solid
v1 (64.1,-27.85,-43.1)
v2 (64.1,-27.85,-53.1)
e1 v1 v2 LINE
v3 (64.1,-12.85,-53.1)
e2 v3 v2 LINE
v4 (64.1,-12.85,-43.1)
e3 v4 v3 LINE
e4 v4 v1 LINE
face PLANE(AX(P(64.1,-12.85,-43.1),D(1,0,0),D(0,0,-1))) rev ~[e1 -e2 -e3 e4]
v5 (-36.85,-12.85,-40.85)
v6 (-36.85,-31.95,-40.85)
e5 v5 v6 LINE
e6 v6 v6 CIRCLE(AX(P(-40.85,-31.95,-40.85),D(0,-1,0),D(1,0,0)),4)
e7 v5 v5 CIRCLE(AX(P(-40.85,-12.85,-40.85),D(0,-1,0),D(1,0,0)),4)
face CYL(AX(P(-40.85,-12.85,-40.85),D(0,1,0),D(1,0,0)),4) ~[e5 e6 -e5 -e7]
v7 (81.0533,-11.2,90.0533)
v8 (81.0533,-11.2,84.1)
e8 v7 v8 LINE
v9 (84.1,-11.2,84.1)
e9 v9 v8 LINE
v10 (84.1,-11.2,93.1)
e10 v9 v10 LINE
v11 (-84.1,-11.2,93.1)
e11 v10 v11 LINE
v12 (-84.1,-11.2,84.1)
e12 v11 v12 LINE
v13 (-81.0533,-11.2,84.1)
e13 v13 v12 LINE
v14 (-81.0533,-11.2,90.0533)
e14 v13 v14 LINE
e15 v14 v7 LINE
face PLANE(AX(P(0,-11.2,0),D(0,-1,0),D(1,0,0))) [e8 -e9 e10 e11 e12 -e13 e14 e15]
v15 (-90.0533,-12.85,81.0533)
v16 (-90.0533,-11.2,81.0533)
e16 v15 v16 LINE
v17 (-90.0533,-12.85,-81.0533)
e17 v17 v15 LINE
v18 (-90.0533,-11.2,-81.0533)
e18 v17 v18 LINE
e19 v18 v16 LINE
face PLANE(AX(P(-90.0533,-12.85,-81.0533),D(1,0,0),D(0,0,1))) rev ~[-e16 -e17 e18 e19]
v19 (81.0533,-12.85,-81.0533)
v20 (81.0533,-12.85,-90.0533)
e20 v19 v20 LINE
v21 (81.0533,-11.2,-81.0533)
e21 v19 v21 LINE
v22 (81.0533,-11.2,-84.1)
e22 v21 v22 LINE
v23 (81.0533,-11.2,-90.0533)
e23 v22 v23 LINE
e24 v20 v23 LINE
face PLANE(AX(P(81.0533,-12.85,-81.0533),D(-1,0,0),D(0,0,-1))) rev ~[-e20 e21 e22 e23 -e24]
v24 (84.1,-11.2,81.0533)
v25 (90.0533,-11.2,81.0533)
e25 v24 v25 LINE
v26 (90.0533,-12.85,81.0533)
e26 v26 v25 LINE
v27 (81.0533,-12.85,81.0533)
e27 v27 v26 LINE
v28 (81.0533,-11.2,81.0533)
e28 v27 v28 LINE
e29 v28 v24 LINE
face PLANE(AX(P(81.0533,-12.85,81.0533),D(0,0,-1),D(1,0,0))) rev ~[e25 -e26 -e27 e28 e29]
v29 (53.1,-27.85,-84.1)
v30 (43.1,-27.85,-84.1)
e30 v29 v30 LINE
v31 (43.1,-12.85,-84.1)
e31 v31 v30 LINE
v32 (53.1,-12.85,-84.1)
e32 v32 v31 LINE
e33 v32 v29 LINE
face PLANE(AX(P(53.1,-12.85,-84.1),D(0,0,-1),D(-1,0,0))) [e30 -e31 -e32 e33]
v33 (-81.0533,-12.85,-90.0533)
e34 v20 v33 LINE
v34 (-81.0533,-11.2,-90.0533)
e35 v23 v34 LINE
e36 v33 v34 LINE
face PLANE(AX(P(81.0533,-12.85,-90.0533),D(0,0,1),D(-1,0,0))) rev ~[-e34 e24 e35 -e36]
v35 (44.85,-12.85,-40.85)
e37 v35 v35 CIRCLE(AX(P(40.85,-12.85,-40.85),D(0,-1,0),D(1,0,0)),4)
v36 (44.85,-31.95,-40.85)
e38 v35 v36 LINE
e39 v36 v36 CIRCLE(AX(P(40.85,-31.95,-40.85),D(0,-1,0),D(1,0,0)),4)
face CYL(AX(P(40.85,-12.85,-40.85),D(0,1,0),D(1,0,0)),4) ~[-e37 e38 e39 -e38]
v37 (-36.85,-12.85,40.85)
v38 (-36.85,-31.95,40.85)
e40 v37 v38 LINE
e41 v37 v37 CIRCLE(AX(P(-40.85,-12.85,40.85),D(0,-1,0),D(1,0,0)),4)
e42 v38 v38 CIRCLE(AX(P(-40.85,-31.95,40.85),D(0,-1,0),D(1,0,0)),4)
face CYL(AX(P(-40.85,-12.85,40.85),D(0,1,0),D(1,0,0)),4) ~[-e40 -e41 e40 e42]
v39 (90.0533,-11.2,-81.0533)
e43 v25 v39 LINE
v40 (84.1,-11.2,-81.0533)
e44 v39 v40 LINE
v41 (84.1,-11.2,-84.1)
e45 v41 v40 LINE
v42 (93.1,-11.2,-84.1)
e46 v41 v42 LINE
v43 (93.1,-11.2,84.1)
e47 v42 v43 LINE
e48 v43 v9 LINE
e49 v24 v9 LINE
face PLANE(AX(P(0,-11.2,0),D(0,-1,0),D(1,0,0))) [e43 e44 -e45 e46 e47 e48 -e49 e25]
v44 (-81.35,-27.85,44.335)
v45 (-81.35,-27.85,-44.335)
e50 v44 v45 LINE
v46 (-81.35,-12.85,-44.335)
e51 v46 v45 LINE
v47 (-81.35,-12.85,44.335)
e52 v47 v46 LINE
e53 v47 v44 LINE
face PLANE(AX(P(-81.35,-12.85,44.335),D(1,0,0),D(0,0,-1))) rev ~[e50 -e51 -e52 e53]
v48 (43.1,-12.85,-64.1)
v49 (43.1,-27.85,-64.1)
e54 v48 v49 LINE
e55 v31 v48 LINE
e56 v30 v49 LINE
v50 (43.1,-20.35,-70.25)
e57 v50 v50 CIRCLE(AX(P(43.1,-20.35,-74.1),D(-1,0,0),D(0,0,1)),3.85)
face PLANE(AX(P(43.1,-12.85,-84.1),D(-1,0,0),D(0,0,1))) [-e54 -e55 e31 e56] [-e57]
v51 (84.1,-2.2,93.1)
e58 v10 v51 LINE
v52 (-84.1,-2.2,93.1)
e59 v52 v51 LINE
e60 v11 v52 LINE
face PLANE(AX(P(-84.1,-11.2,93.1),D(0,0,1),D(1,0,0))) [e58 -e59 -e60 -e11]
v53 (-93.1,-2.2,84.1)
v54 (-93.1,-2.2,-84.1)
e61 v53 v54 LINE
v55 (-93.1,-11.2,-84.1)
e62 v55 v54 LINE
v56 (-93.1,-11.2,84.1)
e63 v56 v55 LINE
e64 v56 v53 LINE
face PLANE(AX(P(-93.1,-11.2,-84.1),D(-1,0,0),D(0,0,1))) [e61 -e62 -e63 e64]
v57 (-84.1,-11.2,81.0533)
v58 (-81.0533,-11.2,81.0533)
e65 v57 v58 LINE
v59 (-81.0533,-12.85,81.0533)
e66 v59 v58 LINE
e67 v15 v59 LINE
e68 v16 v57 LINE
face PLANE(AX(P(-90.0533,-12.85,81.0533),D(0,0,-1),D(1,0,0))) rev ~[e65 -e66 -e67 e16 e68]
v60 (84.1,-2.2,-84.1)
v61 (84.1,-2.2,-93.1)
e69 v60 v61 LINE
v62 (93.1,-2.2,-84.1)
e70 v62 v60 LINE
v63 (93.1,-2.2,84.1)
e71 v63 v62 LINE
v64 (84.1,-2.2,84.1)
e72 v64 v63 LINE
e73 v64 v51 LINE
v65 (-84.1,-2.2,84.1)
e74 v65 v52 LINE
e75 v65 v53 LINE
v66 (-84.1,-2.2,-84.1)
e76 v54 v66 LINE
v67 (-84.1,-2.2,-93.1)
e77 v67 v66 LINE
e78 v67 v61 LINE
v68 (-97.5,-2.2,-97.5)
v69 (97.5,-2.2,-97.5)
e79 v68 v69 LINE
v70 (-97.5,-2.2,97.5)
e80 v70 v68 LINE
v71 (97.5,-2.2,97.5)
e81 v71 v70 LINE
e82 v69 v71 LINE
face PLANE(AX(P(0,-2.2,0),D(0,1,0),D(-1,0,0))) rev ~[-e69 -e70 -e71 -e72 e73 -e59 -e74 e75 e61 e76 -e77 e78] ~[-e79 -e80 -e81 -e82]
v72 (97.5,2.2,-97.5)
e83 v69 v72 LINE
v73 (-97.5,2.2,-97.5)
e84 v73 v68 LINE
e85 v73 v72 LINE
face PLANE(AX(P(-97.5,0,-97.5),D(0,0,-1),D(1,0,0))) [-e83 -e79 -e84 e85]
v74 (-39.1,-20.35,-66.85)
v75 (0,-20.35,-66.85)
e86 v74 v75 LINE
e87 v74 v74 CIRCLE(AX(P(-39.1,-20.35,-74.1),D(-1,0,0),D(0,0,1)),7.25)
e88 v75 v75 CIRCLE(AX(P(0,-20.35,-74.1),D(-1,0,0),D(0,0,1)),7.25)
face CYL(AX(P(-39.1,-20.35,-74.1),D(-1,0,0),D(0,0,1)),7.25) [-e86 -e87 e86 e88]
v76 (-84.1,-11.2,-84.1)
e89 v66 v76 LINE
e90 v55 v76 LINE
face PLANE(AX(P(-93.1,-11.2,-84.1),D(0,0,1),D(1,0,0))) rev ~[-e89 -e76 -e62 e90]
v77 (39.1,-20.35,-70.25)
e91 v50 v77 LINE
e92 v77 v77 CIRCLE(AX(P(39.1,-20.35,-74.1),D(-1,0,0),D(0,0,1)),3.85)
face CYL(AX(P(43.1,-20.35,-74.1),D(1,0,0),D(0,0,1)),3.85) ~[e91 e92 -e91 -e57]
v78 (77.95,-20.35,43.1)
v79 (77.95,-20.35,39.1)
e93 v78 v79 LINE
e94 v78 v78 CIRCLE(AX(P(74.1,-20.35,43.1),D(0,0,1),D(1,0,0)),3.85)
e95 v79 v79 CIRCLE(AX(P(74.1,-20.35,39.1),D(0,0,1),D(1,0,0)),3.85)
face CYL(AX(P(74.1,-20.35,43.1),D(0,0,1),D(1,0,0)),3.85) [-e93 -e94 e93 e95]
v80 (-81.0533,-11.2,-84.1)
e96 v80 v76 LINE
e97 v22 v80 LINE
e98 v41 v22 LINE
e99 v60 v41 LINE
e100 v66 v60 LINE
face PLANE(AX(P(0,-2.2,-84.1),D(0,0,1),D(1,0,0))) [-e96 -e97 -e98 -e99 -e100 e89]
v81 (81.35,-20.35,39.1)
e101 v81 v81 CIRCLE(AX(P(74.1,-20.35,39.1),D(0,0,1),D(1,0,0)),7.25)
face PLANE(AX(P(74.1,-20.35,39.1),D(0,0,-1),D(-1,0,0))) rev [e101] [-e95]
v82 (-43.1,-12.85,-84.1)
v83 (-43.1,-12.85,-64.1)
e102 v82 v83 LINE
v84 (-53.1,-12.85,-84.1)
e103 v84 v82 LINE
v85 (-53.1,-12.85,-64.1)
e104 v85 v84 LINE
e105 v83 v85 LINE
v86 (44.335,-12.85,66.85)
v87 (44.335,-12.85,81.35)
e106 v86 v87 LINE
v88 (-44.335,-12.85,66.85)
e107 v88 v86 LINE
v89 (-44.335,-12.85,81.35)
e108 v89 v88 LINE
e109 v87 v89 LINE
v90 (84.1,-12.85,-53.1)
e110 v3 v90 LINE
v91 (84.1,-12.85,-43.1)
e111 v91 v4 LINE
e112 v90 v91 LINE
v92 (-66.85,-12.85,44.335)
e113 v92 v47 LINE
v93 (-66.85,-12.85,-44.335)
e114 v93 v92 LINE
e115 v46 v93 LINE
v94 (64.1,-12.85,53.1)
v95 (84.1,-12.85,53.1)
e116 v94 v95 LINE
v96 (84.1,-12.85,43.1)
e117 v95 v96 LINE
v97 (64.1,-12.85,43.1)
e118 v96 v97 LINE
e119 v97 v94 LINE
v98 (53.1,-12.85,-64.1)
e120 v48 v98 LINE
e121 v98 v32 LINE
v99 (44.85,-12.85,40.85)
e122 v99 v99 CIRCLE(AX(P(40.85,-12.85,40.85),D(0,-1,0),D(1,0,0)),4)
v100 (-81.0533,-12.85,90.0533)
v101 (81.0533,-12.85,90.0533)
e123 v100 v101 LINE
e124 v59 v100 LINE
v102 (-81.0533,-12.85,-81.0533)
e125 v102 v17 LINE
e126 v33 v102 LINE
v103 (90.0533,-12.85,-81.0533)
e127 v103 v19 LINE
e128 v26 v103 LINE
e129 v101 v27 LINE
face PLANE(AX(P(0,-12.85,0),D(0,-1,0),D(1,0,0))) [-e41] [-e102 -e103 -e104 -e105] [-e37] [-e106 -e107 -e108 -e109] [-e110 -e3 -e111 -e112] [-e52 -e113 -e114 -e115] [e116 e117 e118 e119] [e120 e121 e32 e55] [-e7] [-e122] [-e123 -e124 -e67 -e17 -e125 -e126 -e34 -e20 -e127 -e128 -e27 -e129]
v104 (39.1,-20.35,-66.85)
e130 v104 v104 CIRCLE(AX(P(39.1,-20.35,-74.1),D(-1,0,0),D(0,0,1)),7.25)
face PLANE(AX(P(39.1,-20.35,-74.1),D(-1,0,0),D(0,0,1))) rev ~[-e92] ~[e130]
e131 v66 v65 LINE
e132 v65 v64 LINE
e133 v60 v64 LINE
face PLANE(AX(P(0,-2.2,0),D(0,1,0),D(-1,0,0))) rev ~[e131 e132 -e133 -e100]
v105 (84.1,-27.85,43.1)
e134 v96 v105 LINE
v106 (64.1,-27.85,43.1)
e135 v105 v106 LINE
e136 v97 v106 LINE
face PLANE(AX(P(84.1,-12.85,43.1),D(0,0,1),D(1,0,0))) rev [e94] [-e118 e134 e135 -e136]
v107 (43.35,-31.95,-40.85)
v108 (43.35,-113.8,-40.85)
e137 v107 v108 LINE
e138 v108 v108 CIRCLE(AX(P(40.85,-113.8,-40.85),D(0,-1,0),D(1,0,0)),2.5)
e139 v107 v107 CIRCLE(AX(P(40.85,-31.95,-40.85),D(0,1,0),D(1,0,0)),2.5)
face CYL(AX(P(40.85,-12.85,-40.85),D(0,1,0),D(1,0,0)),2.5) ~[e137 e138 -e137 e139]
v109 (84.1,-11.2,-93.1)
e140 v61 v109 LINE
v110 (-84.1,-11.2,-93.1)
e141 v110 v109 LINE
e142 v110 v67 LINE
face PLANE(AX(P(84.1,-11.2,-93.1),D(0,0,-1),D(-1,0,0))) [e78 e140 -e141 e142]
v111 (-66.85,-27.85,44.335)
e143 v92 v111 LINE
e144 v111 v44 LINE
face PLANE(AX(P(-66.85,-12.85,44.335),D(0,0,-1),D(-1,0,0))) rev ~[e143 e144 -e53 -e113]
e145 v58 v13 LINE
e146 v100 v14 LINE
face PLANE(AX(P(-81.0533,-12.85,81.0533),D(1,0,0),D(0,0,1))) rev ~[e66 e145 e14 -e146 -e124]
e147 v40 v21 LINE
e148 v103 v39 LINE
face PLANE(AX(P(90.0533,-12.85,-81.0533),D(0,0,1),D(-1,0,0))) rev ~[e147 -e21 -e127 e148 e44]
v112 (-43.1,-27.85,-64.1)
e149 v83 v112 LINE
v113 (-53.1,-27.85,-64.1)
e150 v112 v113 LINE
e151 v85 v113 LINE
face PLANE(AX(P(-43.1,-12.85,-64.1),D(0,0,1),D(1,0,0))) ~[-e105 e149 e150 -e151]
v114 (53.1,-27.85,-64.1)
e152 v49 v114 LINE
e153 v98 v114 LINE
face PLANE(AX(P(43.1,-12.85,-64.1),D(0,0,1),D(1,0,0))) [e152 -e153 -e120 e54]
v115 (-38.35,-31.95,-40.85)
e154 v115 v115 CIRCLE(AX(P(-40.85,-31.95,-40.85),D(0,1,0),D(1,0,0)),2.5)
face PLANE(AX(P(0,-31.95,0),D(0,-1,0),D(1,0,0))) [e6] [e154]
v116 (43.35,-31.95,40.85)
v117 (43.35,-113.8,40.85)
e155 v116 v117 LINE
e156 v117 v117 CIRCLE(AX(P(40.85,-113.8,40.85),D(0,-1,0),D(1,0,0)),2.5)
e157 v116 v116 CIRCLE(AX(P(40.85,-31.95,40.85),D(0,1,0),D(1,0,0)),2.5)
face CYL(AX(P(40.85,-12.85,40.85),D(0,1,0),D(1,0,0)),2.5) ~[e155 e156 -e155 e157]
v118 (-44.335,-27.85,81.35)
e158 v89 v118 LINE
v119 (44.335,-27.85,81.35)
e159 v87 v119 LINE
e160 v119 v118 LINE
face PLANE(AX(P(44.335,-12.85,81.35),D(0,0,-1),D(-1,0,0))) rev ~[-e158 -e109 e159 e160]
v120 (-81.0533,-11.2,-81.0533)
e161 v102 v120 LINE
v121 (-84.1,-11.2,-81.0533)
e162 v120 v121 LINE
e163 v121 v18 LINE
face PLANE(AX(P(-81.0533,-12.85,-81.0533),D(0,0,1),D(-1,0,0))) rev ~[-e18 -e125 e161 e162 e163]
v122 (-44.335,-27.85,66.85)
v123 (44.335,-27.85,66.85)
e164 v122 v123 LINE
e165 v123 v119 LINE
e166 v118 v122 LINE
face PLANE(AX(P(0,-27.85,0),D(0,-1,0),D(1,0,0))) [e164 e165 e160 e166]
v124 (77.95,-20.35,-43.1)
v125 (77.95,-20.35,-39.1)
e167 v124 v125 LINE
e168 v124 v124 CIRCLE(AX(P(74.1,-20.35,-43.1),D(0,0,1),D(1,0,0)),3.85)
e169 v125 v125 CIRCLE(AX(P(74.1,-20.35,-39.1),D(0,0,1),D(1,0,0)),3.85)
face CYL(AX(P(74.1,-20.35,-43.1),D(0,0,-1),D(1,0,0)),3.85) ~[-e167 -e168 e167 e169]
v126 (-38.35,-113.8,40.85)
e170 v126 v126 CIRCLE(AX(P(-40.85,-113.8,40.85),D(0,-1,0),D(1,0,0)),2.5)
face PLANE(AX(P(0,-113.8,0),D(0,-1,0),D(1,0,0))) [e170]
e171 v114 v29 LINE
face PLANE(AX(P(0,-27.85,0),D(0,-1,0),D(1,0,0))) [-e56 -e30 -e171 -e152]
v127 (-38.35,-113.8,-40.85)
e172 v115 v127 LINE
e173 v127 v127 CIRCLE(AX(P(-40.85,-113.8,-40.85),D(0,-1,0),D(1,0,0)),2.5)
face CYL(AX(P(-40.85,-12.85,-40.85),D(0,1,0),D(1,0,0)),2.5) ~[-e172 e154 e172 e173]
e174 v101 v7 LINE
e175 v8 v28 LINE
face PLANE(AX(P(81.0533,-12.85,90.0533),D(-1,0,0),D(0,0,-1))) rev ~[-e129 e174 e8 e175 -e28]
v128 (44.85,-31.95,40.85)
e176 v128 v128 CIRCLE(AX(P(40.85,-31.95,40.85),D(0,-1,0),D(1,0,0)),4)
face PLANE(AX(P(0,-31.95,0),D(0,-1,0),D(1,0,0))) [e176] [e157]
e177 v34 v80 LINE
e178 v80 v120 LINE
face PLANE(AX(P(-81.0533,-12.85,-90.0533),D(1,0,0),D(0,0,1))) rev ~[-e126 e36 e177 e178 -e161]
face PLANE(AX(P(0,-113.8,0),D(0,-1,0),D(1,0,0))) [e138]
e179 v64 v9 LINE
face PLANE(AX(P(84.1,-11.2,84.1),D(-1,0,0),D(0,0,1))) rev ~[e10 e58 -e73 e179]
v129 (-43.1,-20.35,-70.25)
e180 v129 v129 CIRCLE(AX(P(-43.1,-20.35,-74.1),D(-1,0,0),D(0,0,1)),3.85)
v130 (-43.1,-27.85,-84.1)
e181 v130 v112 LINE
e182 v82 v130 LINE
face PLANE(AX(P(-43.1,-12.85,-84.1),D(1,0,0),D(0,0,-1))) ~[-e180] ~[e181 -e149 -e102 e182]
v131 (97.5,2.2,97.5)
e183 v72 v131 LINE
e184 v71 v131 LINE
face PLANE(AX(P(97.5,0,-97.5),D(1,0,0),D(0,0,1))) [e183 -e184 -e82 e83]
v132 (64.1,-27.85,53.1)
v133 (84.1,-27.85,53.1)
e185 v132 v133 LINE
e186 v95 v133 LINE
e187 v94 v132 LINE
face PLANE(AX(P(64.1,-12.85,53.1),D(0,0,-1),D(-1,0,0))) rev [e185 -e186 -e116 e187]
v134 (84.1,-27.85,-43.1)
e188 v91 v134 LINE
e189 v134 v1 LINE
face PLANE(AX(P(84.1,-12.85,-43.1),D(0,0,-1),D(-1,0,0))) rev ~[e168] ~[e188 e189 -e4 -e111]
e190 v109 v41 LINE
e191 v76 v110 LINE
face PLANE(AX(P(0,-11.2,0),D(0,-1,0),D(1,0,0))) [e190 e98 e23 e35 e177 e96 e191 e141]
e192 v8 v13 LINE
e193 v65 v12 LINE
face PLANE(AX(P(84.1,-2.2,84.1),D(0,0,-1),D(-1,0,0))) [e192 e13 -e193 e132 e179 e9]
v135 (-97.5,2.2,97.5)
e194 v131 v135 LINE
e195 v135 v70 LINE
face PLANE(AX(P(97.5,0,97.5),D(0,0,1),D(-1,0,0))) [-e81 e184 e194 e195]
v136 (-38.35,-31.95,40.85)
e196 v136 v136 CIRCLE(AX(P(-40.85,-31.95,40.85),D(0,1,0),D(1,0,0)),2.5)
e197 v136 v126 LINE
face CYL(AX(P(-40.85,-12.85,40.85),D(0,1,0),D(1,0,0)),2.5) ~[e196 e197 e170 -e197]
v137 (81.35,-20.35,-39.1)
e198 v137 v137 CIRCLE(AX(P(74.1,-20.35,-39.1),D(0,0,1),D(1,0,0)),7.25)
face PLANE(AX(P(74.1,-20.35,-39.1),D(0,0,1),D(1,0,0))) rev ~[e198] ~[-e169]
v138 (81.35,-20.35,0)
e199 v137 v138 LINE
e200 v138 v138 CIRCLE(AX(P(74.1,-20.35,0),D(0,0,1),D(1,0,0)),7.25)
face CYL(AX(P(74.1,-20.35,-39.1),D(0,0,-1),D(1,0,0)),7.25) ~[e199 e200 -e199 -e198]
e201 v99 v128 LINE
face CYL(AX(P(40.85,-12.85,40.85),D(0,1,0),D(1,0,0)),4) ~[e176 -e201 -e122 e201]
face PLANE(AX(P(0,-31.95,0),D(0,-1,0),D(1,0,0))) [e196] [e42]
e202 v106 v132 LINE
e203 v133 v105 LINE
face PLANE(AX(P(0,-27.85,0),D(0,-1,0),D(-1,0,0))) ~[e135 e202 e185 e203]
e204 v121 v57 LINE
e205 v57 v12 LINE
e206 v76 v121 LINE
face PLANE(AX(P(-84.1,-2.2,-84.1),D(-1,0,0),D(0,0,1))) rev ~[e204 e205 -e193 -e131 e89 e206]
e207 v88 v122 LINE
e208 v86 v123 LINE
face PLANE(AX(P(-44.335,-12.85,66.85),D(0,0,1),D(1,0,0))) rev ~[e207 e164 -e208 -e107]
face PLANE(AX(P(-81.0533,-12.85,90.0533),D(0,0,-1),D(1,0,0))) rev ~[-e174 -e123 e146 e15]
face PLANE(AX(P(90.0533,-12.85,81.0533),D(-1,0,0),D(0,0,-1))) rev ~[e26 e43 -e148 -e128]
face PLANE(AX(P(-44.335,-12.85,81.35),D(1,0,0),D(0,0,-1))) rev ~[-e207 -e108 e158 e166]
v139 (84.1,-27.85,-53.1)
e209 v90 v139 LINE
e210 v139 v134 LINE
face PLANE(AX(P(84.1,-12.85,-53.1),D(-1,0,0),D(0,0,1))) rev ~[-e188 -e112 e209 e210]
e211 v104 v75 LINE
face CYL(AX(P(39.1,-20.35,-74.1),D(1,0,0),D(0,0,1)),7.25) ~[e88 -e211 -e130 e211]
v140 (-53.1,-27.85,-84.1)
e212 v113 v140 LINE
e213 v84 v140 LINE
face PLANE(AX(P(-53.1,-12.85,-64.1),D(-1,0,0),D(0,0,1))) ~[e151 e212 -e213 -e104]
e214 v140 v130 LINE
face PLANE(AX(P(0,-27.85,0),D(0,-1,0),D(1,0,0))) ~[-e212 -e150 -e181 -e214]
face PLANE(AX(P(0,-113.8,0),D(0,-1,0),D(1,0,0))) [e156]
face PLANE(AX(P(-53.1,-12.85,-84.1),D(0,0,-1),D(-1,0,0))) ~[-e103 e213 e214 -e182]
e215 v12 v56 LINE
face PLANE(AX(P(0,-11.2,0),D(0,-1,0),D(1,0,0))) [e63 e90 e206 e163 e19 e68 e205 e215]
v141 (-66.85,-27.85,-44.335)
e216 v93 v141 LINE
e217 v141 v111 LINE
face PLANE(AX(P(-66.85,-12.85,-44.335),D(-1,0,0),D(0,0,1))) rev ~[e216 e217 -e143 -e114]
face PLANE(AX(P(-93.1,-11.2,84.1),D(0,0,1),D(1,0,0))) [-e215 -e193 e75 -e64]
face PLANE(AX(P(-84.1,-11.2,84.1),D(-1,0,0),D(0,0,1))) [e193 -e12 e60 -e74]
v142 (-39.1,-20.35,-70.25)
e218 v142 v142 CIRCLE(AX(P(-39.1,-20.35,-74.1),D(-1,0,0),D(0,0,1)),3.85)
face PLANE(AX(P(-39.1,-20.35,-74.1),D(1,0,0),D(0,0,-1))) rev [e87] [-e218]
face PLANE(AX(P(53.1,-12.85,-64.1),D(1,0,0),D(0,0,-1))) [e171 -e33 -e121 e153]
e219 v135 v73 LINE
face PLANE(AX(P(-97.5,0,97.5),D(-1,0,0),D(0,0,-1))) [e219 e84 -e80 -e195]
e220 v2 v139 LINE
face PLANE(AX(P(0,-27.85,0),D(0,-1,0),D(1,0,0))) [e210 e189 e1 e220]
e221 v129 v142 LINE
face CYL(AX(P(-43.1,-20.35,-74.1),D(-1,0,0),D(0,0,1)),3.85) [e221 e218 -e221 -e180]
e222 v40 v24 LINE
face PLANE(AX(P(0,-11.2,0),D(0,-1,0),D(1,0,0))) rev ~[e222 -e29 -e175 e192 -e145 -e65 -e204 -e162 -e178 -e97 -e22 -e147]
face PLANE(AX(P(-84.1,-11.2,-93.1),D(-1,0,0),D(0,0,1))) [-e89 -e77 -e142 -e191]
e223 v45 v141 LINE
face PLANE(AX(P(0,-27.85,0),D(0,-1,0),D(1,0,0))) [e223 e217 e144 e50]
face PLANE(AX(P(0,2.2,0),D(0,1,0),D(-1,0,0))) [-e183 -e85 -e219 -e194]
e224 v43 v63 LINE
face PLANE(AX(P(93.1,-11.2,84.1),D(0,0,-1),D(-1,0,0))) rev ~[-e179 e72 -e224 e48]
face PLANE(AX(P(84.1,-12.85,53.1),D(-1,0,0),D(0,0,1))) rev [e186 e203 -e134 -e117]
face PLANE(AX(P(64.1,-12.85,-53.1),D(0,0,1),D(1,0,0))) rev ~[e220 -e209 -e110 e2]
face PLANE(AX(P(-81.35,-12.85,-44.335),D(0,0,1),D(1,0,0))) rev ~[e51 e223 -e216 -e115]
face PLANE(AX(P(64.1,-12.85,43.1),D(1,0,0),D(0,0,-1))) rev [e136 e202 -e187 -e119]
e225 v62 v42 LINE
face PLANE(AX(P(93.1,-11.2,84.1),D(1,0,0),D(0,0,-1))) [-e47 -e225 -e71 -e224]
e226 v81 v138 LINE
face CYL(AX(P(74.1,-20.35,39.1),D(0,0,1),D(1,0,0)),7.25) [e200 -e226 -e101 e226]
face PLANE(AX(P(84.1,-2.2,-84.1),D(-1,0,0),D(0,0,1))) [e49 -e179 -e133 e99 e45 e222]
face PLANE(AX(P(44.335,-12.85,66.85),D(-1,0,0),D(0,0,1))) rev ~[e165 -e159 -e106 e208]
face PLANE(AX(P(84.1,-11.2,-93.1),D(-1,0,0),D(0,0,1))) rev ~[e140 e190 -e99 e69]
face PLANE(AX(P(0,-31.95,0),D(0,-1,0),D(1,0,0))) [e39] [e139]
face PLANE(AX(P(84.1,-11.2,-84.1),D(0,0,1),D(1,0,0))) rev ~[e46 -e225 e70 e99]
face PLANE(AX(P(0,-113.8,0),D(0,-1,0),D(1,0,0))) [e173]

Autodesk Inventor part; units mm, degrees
ref_plane "YZ Plane" through (0, 0, 0) normal (1, 0, 0) x (0, 1, 0)
ref_plane "XZ Plane" through (0, 0, 0) normal (0, 1, 0) x (-1, 0, 0)
ref_plane "XY Plane" through (0, 0, 0) normal (0, 0, 1) x (1, 0, 0)
sketch "Boceto1" plane through (0, 0, 0) normal (0, 1, 0) x (-1, 0, 0)
  line L0 (-97.5, 97.5) -> (97.5, 97.5)
  line L1 (97.5, 97.5) -> (97.5, -97.5)
  line L2 (97.5, -97.5) -> (-97.5, -97.5)
  line L3 (-97.5, -97.5) -> (-97.5, 97.5)
  line L4 (-97.5, 97.5) -> (97.5, -97.5) construction
  line L5 (97.5, 97.5) -> (-97.5, -97.5) construction
  point P0 (0, 0)
  dimension "d0" = 195
  dimension "d1" = 195
extrude "Extrusión1" add sketch "Boceto1" along normal mid plane 4.4
sketch "Boceto4" plane through (0, -2.2, 0) normal (0, -1, 0) x (1, 0, 0)
  line L0 (97.5, -97.5) -> (97.5, 97.5) construction
  line L1 (-97.5, 97.5) -> (-97.5, -97.5) construction
  line L2 (84.1, -93.1) -> (-84.1, -93.1)
  line L3 (-84.1, -93.1) -> (-84.1, -84.1)
  line L4 (-84.1, -84.1) -> (84.1, -84.1)
  line L5 (84.1, -84.1) -> (84.1, -93.1)
  line L6 (-97.5, -97.5) -> (97.5, -97.5) construction
  line L7 (93.1, -84.1) -> (84.1, -84.1)
  line L8 (84.1, -84.1) -> (84.1, 84.1)
  line L9 (84.1, 84.1) -> (93.1, 84.1)
  line L10 (93.1, 84.1) -> (93.1, -84.1)
  line L11 (0, -126.8945) -> (0, 107.949)
  line L12 (-84.1, -84.1) -> (-84.1, 84.1)
  line L13 (-84.1, 84.1) -> (-93.1, 84.1)
  line L14 (-93.1, 84.1) -> (-93.1, -84.1)
  line L15 (-93.1, -84.1) -> (-84.1, -84.1)
  line L16 (84.1, 84.1) -> (-84.1, 84.1)
  line L17 (84.1, 93.1) -> (-84.1, 93.1)
  line L18 (84.1, 84.1) -> (84.1, 93.1)
  line L19 (-84.1, 84.1) -> (-84.1, 93.1)
  point P0 (0, 0)
  point P1 (-84.1, -88.6)
  point P2 (88.6, -84.1)
  point P3 (84.1, -84.1)
  point P4 (84.1, -84.1)
  point P5 (84.1, -84.1)
  point P6 (84.1, -84.1)
  point P7 (-84.1, 84.1)
  point P8 (-84.1, 84.1)
  point P9 (-84.1, 84.1)
  point P10 (-84.1, 84.1)
  dimension "d20" = 4.4
  dimension "d21" = 9
  dimension "d22" = 13.4
  dimension "d23" = 13.4
  dimension "d24" = 4.4
  dimension "d25" = 9
  dimension "d26" = 13.4
  dimension "d30" = 9
extrude "Extrusión6" add sketch "Boceto4" along normal blind 9 contours L2 L11 L4 L5 | L2 L3 L4 L11 | L8 L9 L10 L7 | L16 L11 L17 L18 | L15 L14 L13 L12 | L16 L19 L17 L11
sketch "Boceto5" plane through (0, -11.2, 0) normal (0, -1, 0) x (1, 0, 0)
  line L0 (-84.1, -93.1) -> (84.1, -93.1) construction
  line L1 (93.1, -84.1) -> (93.1, 84.1) construction
  line L2 (-93.1, 84.1) -> (-93.1, -84.1) construction
  line L3 (84.1, 93.1) -> (-84.1, 93.1) construction
  line L4 (84.1, -93.1) -> (-84.1, -93.1)
  line L5 (-93.1, -84.1) -> (-93.1, 84.1)
  line L6 (-84.1, 93.1) -> (84.1, 93.1)
  line L7 (93.1, 84.1) -> (93.1, -84.1)
  line L8 (84.1, -93.1) -> (84.1, -84.1) projected
  line L9 (84.1, -84.1) -> (-84.1, -84.1) construction
  line L10 (84.1, -93.1) -> (84.1, -84.1)
  line L11 (84.1, -84.1) -> (93.1, -84.1)
  line L12 (93.1, 84.1) -> (84.1, 84.1)
  line L13 (84.1, 84.1) -> (84.1, 93.1)
  line L14 (-93.1, 84.1) -> (-84.1, 84.1)
  line L15 (-84.1, 84.1) -> (-84.1, 93.1)
  line L16 (-93.1, -84.1) -> (-84.1, -84.1) projected
  line L17 (-84.1, -93.1) -> (-84.1, -84.1)
  line L18 (-84.1, -84.1) -> (-93.1, -84.1)
  point P0 (0, 0)
extrude "Extrusión7" add sketch "Boceto5" along normal blind 1.65
sketch "Boceto6" plane through (0, -12.85, 0) normal (0, -1, 0) x (1, 0, 0)
  line L0 (-84.1, -84.1) -> (84.1, -84.1) construction
  line L1 (53.1, -84.1) -> (43.1, -84.1)
  line L2 (43.1, -84.1) -> (43.1, -64.1)
  line L3 (43.1, -64.1) -> (53.1, -64.1)
  line L4 (53.1, -64.1) -> (53.1, -84.1)
  line L5 (93.1, -84.1) -> (93.1, 84.1) projected
  line L6 (84.1, -84.1) -> (84.1, 84.1) projected
  line L7 (64.1, -53.1) -> (84.1, -53.1)
  line L8 (84.1, -53.1) -> (84.1, -43.1)
  line L9 (84.1, -43.1) -> (64.1, -43.1)
  line L10 (64.1, -43.1) -> (64.1, -53.1)
  line L11 (-84.1, -93.1) -> (84.1, -93.1) projected
  point P0 (0, 0)
  dimension "d35" = 40
  dimension "d36" = 10
  dimension "d37" = 20
  dimension "d38" = 40
  dimension "d39" = 10
  dimension "d40" = 20
extrude "Extrusión8" add sketch "Boceto6" along normal blind 15
sketch "Boceto7" plane through (43.1, -12.85, -84.1) normal (-1, 0, 0) x (0, 0, 1)
  line L0 (0, 0) -> (20, 0) projected
  line L1 (0, 0) -> (0, -15) construction
  line L2 (20, -15) -> (0, -15) construction
  line L3 (20, 0) -> (20, -15) construction
  line L4 (0, 0) -> (20, 0) projected
  circle A0 centre (10, -7.5) radius 3.85
  point P0 (84.1, 12.85)
  dimension "d43" = 7.7
extrude "Extrusión9" add sketch "Boceto7" along normal blind 4
sketch "Boceto8" plane through (39.1, -20.35, -74.1) normal (-1, 0, 0) x (0, 0, 1)
  circle A0 centre (0, 0) radius 3.85 projected
  circle A1 centre (0, 0) radius 7.25
  point P0 (74.1, 20.35)
  dimension "d46" = 14.5
extrude "Extrusión10" add sketch "Boceto8" along normal up to surface (39.1 mm away)
sketch "Boceto10" plane through (39.1, -20.35, -74.1) normal (-1, 0, 0) x (0, 0, 1)
  circle A0 centre (0, 0) radius 3.85 projected
  point P0 (74.1, 20.35)
extrude "Extrusión11" add sketch "Boceto10" along normal up to surface (39.1 mm away)
mirror "Simetría4" about plane through (0, 0, 0) normal (1, 0, 0) of "Extrusión9", "Extrusión10", "Extrusión11", "Extrusión8"
sketch "Boceto11" plane through (-84.1, -27.85, -53.1) normal (0, -1, 0) x (1, 0, 0)
  line L0 (20, 0) -> (0, 0) projected
  line L1 (20, 10) -> (20, 0) projected
  line L2 (0, 10) -> (20, 10) projected
  line L3 (0, 0) -> (0, 10) projected
  point P0 (84.1, 53.1)
extrude "Extrusión12" cut sketch "Boceto11" against normal up to surface (15 mm away)
sketch "Boceto12" plane through (64.1, -12.85, -43.1) normal (0, 0, 1) x (1, 0, 0)
  line L0 (0, 0) -> (20, 0) projected
  line L1 (0, 0) -> (0, -15) projected
  line L2 (20, -15) -> (0, -15) projected
  line L3 (20, 0) -> (20, -15) projected
  circle A0 centre (10, -7.5) radius 3.85
  point P0 (-64.1, 12.85)
  dimension "d53" = 7.7
extrude "Extrusión13" add sketch "Boceto12" along normal blind 4 contours A0
sketch "Boceto13" plane through (74.1, -20.35, -39.1) normal (0, 0, 1) x (1, 0, 0)
  circle A0 centre (0, 0) radius 3.85 projected
  circle A1 centre (0, 0) radius 7.25
  point P0 (-74.1, 20.35)
  dimension "d56" = 14.5
extrude "Extrusión14" add sketch "Boceto13" along normal up to surface (39.1 mm away)
sketch "Boceto14" plane through (74.1, -20.35, -39.1) normal (0, 0, 1) x (1, 0, 0)
  circle A0 centre (0, 0) radius 3.85 projected
  point P0 (-74.1, 20.35)
extrude "Extrusión15" add sketch "Boceto14" along normal up to surface (39.1 mm away)
mirror "Simetría5" about plane through (0, 0, 0) normal (0, 0, 1) of "Extrusión15", "Extrusión14", "Extrusión13", "Extrusión12", "Extrusión8"
sketch "Boceto15" plane through (43.1, -27.85, 64.1) normal (0, -1, 0) x (1, 0, 0)
  line L0 (10, 0) -> (0, 0) projected
  line L1 (10, 20) -> (10, 0) projected
  line L2 (0, 20) -> (10, 20) projected
  line L3 (0, 0) -> (0, 20) projected
  point P0 (-43.1, -64.1)
extrude "Extrusión16" cut sketch "Boceto15" against normal up to surface (15 mm away)
sketch "Boceto16" plane through (0, -12.85, 0) normal (0, -1, 0) x (1, 0, 0)
  line L0 (81.35, 39.1) -> (66.85, 39.1) construction
  line L1 (81.35, -39.1) -> (66.85, -39.1) construction
  line L2 (81.35, -39.1) -> (81.35, 39.1) construction
  line L3 (66.85, -39.1) -> (66.85, 39.1) construction
  line L4 (81.35, -39.1) -> (66.85, -39.1) construction
  line L5 (81.35, 39.1) -> (66.85, 39.1) construction
  line L6 (-39.1, -66.85) -> (-39.1, -81.35) projected
  line L7 (39.1, -66.85) -> (39.1, -81.35) projected
  line L8 (-81.35, -44.335) -> (-66.85, -44.335)
  line L9 (-66.85, -44.335) -> (-66.85, 44.335)
  line L10 (-66.85, 44.335) -> (-81.35, 44.335)
  line L11 (-81.35, 44.335) -> (-81.35, -44.335)
  line L12 (-93.1, 84.1) -> (-93.1, -84.1) construction
  line L13 (84.1, 93.1) -> (-84.1, 93.1) construction
  line L14 (-44.335, 81.35) -> (-44.335, 66.85)
  line L15 (-44.335, 66.85) -> (44.335, 66.85)
  line L16 (44.335, 66.85) -> (44.335, 81.35)
  line L17 (44.335, 81.35) -> (-44.335, 81.35)
  point P0 (0, 0)
  dimension "d84" = 11.75
  dimension "d85" = 14.5
  dimension "d86" = 88.67
  dimension "d87" = 48.765
  dimension "d88" = 14.5
  dimension "d89" = 88.67
  dimension "d90" = 48.765
  dimension "d91" = 11.75
sketch "Boceto17" plane through (0, -12.85, 0) normal (0, -1, 0) x (1, 0, 0)
  line L0 (50.85, 50.85) -> (-50.85, 50.85) construction
  line L1 (-50.85, 50.85) -> (-50.85, -50.85) construction
  line L2 (-50.85, -50.85) -> (50.85, -50.85) construction
  line L3 (50.85, -50.85) -> (50.85, 50.85) construction
  line L4 (50.85, 50.85) -> (-50.85, -50.85) construction
  line L5 (-50.85, 50.85) -> (50.85, -50.85) construction
  circle A0 centre (40.85, 40.85) radius 2.5
  circle A1 centre (-40.85, 40.85) radius 2.5
  line L6 (101.7, 0) -> (-109.1959, 0)
  circle A2 centre (40.85, -40.85) radius 2.5
  circle A3 centre (-40.85, -40.85) radius 2.5
  point P0 (0, 0)
  dimension "d67" = 101.7
  dimension "d68" = 101.7
  dimension "d69" = 5
  dimension "d70" = 10
  dimension "d71" = 10
  dimension "d72" = 10
  dimension "d73" = 10
  dimension "d94" = 5
  dimension "d95" = 5
extrude "Extrusión19" add sketch "Boceto17" along normal blind 100.95
sketch "Boceto18" plane through (0, -12.85, 0) normal (0, -1, 0) x (1, 0, 0)
  line L0 (84.1, 93.1) -> (-84.1, 93.1) projected
  line L1 (-84.1, 93.1) -> (-84.1, 84.1) projected
  line L2 (-84.1, 84.1) -> (-93.1, 84.1) projected
  line L3 (-93.1, 84.1) -> (-93.1, -84.1) projected
  line L4 (-93.1, -84.1) -> (-84.1, -84.1) projected
  line L5 (-84.1, -84.1) -> (-84.1, -93.1) projected
  line L6 (-84.1, -93.1) -> (84.1, -93.1) projected
  line L7 (84.1, -93.1) -> (84.1, -84.1) projected
  line L8 (93.1, -84.1) -> (93.1, 84.1) projected
  line L9 (84.1, -84.1) -> (93.1, -84.1) projected
  line L10 (93.1, 84.1) -> (84.1, 84.1) projected
  line L11 (84.1, 84.1) -> (84.1, 93.1) projected
  line L12 (-81.0533, 90.0533) -> (81.0533, 90.0533)
  line L13 (81.0533, 90.0533) -> (81.0533, 81.0533)
  line L14 (81.0533, 81.0533) -> (90.0533, 81.0533)
  line L15 (90.0533, 81.0533) -> (90.0533, -81.0533)
  line L16 (90.0533, -81.0533) -> (81.0533, -81.0533)
  line L17 (81.0533, -81.0533) -> (81.0533, -90.0533)
  line L18 (81.0533, -90.0533) -> (-81.0533, -90.0533)
  line L19 (-81.0533, -90.0533) -> (-81.0533, -81.0533)
  line L20 (-81.0533, -81.0533) -> (-90.0533, -81.0533)
  line L21 (-90.0533, -81.0533) -> (-90.0533, 81.0533)
  line L22 (-90.0533, 81.0533) -> (-81.0533, 81.0533)
  line L23 (-81.0533, 81.0533) -> (-81.0533, 90.0533)
  point P0 (0, 0)
extrude "Extrusión20" cut sketch "Boceto18" against normal blind 1.65
sketch "Boceto19" plane through (0, -12.85, 0) normal (0, -1, 0) x (1, 0, 0)
  circle A0 centre (-40.85, -40.85) radius 2.5 construction
  circle A1 centre (-40.85, -40.85) radius 2.5 construction
  circle A2 centre (-40.85, -40.85) radius 4
  line L0 (-66.85, -39.1) -> (-66.85, 39.1) projected
  circle A3 centre (-40.85, 40.85) radius 2.5 construction
  circle A4 centre (-40.85, 40.85) radius 4
  line L1 (0, -105.6023) -> (0, 128.9456)
  circle A5 centre (40.85, -40.85) radius 2.5 construction
  circle A6 centre (40.85, -40.85) radius 2.5 construction
  circle A7 centre (40.85, -40.85) radius 4
  circle A8 centre (40.85, 40.85) radius 2.5 construction
  circle A9 centre (40.85, 40.85) radius 4
  circle A10 centre (40.85, -40.85) radius 2.5 construction
  circle A11 centre (40.85, -40.85) radius 2.5 construction
  circle A12 centre (40.85, 40.85) radius 2.5 construction
  circle A13 centre (-40.85, 40.85) radius 2.5 construction
  point P0 (0, 0)
  dimension "d78" = 8
  dimension "d79" = 8
extrude "Extrusión21" add sketch "Boceto19" along normal blind 19.1
extrude "Extrusión22" add sketch "Boceto16" along normal blind 15
properties part number "Acrilico_Bottom"
